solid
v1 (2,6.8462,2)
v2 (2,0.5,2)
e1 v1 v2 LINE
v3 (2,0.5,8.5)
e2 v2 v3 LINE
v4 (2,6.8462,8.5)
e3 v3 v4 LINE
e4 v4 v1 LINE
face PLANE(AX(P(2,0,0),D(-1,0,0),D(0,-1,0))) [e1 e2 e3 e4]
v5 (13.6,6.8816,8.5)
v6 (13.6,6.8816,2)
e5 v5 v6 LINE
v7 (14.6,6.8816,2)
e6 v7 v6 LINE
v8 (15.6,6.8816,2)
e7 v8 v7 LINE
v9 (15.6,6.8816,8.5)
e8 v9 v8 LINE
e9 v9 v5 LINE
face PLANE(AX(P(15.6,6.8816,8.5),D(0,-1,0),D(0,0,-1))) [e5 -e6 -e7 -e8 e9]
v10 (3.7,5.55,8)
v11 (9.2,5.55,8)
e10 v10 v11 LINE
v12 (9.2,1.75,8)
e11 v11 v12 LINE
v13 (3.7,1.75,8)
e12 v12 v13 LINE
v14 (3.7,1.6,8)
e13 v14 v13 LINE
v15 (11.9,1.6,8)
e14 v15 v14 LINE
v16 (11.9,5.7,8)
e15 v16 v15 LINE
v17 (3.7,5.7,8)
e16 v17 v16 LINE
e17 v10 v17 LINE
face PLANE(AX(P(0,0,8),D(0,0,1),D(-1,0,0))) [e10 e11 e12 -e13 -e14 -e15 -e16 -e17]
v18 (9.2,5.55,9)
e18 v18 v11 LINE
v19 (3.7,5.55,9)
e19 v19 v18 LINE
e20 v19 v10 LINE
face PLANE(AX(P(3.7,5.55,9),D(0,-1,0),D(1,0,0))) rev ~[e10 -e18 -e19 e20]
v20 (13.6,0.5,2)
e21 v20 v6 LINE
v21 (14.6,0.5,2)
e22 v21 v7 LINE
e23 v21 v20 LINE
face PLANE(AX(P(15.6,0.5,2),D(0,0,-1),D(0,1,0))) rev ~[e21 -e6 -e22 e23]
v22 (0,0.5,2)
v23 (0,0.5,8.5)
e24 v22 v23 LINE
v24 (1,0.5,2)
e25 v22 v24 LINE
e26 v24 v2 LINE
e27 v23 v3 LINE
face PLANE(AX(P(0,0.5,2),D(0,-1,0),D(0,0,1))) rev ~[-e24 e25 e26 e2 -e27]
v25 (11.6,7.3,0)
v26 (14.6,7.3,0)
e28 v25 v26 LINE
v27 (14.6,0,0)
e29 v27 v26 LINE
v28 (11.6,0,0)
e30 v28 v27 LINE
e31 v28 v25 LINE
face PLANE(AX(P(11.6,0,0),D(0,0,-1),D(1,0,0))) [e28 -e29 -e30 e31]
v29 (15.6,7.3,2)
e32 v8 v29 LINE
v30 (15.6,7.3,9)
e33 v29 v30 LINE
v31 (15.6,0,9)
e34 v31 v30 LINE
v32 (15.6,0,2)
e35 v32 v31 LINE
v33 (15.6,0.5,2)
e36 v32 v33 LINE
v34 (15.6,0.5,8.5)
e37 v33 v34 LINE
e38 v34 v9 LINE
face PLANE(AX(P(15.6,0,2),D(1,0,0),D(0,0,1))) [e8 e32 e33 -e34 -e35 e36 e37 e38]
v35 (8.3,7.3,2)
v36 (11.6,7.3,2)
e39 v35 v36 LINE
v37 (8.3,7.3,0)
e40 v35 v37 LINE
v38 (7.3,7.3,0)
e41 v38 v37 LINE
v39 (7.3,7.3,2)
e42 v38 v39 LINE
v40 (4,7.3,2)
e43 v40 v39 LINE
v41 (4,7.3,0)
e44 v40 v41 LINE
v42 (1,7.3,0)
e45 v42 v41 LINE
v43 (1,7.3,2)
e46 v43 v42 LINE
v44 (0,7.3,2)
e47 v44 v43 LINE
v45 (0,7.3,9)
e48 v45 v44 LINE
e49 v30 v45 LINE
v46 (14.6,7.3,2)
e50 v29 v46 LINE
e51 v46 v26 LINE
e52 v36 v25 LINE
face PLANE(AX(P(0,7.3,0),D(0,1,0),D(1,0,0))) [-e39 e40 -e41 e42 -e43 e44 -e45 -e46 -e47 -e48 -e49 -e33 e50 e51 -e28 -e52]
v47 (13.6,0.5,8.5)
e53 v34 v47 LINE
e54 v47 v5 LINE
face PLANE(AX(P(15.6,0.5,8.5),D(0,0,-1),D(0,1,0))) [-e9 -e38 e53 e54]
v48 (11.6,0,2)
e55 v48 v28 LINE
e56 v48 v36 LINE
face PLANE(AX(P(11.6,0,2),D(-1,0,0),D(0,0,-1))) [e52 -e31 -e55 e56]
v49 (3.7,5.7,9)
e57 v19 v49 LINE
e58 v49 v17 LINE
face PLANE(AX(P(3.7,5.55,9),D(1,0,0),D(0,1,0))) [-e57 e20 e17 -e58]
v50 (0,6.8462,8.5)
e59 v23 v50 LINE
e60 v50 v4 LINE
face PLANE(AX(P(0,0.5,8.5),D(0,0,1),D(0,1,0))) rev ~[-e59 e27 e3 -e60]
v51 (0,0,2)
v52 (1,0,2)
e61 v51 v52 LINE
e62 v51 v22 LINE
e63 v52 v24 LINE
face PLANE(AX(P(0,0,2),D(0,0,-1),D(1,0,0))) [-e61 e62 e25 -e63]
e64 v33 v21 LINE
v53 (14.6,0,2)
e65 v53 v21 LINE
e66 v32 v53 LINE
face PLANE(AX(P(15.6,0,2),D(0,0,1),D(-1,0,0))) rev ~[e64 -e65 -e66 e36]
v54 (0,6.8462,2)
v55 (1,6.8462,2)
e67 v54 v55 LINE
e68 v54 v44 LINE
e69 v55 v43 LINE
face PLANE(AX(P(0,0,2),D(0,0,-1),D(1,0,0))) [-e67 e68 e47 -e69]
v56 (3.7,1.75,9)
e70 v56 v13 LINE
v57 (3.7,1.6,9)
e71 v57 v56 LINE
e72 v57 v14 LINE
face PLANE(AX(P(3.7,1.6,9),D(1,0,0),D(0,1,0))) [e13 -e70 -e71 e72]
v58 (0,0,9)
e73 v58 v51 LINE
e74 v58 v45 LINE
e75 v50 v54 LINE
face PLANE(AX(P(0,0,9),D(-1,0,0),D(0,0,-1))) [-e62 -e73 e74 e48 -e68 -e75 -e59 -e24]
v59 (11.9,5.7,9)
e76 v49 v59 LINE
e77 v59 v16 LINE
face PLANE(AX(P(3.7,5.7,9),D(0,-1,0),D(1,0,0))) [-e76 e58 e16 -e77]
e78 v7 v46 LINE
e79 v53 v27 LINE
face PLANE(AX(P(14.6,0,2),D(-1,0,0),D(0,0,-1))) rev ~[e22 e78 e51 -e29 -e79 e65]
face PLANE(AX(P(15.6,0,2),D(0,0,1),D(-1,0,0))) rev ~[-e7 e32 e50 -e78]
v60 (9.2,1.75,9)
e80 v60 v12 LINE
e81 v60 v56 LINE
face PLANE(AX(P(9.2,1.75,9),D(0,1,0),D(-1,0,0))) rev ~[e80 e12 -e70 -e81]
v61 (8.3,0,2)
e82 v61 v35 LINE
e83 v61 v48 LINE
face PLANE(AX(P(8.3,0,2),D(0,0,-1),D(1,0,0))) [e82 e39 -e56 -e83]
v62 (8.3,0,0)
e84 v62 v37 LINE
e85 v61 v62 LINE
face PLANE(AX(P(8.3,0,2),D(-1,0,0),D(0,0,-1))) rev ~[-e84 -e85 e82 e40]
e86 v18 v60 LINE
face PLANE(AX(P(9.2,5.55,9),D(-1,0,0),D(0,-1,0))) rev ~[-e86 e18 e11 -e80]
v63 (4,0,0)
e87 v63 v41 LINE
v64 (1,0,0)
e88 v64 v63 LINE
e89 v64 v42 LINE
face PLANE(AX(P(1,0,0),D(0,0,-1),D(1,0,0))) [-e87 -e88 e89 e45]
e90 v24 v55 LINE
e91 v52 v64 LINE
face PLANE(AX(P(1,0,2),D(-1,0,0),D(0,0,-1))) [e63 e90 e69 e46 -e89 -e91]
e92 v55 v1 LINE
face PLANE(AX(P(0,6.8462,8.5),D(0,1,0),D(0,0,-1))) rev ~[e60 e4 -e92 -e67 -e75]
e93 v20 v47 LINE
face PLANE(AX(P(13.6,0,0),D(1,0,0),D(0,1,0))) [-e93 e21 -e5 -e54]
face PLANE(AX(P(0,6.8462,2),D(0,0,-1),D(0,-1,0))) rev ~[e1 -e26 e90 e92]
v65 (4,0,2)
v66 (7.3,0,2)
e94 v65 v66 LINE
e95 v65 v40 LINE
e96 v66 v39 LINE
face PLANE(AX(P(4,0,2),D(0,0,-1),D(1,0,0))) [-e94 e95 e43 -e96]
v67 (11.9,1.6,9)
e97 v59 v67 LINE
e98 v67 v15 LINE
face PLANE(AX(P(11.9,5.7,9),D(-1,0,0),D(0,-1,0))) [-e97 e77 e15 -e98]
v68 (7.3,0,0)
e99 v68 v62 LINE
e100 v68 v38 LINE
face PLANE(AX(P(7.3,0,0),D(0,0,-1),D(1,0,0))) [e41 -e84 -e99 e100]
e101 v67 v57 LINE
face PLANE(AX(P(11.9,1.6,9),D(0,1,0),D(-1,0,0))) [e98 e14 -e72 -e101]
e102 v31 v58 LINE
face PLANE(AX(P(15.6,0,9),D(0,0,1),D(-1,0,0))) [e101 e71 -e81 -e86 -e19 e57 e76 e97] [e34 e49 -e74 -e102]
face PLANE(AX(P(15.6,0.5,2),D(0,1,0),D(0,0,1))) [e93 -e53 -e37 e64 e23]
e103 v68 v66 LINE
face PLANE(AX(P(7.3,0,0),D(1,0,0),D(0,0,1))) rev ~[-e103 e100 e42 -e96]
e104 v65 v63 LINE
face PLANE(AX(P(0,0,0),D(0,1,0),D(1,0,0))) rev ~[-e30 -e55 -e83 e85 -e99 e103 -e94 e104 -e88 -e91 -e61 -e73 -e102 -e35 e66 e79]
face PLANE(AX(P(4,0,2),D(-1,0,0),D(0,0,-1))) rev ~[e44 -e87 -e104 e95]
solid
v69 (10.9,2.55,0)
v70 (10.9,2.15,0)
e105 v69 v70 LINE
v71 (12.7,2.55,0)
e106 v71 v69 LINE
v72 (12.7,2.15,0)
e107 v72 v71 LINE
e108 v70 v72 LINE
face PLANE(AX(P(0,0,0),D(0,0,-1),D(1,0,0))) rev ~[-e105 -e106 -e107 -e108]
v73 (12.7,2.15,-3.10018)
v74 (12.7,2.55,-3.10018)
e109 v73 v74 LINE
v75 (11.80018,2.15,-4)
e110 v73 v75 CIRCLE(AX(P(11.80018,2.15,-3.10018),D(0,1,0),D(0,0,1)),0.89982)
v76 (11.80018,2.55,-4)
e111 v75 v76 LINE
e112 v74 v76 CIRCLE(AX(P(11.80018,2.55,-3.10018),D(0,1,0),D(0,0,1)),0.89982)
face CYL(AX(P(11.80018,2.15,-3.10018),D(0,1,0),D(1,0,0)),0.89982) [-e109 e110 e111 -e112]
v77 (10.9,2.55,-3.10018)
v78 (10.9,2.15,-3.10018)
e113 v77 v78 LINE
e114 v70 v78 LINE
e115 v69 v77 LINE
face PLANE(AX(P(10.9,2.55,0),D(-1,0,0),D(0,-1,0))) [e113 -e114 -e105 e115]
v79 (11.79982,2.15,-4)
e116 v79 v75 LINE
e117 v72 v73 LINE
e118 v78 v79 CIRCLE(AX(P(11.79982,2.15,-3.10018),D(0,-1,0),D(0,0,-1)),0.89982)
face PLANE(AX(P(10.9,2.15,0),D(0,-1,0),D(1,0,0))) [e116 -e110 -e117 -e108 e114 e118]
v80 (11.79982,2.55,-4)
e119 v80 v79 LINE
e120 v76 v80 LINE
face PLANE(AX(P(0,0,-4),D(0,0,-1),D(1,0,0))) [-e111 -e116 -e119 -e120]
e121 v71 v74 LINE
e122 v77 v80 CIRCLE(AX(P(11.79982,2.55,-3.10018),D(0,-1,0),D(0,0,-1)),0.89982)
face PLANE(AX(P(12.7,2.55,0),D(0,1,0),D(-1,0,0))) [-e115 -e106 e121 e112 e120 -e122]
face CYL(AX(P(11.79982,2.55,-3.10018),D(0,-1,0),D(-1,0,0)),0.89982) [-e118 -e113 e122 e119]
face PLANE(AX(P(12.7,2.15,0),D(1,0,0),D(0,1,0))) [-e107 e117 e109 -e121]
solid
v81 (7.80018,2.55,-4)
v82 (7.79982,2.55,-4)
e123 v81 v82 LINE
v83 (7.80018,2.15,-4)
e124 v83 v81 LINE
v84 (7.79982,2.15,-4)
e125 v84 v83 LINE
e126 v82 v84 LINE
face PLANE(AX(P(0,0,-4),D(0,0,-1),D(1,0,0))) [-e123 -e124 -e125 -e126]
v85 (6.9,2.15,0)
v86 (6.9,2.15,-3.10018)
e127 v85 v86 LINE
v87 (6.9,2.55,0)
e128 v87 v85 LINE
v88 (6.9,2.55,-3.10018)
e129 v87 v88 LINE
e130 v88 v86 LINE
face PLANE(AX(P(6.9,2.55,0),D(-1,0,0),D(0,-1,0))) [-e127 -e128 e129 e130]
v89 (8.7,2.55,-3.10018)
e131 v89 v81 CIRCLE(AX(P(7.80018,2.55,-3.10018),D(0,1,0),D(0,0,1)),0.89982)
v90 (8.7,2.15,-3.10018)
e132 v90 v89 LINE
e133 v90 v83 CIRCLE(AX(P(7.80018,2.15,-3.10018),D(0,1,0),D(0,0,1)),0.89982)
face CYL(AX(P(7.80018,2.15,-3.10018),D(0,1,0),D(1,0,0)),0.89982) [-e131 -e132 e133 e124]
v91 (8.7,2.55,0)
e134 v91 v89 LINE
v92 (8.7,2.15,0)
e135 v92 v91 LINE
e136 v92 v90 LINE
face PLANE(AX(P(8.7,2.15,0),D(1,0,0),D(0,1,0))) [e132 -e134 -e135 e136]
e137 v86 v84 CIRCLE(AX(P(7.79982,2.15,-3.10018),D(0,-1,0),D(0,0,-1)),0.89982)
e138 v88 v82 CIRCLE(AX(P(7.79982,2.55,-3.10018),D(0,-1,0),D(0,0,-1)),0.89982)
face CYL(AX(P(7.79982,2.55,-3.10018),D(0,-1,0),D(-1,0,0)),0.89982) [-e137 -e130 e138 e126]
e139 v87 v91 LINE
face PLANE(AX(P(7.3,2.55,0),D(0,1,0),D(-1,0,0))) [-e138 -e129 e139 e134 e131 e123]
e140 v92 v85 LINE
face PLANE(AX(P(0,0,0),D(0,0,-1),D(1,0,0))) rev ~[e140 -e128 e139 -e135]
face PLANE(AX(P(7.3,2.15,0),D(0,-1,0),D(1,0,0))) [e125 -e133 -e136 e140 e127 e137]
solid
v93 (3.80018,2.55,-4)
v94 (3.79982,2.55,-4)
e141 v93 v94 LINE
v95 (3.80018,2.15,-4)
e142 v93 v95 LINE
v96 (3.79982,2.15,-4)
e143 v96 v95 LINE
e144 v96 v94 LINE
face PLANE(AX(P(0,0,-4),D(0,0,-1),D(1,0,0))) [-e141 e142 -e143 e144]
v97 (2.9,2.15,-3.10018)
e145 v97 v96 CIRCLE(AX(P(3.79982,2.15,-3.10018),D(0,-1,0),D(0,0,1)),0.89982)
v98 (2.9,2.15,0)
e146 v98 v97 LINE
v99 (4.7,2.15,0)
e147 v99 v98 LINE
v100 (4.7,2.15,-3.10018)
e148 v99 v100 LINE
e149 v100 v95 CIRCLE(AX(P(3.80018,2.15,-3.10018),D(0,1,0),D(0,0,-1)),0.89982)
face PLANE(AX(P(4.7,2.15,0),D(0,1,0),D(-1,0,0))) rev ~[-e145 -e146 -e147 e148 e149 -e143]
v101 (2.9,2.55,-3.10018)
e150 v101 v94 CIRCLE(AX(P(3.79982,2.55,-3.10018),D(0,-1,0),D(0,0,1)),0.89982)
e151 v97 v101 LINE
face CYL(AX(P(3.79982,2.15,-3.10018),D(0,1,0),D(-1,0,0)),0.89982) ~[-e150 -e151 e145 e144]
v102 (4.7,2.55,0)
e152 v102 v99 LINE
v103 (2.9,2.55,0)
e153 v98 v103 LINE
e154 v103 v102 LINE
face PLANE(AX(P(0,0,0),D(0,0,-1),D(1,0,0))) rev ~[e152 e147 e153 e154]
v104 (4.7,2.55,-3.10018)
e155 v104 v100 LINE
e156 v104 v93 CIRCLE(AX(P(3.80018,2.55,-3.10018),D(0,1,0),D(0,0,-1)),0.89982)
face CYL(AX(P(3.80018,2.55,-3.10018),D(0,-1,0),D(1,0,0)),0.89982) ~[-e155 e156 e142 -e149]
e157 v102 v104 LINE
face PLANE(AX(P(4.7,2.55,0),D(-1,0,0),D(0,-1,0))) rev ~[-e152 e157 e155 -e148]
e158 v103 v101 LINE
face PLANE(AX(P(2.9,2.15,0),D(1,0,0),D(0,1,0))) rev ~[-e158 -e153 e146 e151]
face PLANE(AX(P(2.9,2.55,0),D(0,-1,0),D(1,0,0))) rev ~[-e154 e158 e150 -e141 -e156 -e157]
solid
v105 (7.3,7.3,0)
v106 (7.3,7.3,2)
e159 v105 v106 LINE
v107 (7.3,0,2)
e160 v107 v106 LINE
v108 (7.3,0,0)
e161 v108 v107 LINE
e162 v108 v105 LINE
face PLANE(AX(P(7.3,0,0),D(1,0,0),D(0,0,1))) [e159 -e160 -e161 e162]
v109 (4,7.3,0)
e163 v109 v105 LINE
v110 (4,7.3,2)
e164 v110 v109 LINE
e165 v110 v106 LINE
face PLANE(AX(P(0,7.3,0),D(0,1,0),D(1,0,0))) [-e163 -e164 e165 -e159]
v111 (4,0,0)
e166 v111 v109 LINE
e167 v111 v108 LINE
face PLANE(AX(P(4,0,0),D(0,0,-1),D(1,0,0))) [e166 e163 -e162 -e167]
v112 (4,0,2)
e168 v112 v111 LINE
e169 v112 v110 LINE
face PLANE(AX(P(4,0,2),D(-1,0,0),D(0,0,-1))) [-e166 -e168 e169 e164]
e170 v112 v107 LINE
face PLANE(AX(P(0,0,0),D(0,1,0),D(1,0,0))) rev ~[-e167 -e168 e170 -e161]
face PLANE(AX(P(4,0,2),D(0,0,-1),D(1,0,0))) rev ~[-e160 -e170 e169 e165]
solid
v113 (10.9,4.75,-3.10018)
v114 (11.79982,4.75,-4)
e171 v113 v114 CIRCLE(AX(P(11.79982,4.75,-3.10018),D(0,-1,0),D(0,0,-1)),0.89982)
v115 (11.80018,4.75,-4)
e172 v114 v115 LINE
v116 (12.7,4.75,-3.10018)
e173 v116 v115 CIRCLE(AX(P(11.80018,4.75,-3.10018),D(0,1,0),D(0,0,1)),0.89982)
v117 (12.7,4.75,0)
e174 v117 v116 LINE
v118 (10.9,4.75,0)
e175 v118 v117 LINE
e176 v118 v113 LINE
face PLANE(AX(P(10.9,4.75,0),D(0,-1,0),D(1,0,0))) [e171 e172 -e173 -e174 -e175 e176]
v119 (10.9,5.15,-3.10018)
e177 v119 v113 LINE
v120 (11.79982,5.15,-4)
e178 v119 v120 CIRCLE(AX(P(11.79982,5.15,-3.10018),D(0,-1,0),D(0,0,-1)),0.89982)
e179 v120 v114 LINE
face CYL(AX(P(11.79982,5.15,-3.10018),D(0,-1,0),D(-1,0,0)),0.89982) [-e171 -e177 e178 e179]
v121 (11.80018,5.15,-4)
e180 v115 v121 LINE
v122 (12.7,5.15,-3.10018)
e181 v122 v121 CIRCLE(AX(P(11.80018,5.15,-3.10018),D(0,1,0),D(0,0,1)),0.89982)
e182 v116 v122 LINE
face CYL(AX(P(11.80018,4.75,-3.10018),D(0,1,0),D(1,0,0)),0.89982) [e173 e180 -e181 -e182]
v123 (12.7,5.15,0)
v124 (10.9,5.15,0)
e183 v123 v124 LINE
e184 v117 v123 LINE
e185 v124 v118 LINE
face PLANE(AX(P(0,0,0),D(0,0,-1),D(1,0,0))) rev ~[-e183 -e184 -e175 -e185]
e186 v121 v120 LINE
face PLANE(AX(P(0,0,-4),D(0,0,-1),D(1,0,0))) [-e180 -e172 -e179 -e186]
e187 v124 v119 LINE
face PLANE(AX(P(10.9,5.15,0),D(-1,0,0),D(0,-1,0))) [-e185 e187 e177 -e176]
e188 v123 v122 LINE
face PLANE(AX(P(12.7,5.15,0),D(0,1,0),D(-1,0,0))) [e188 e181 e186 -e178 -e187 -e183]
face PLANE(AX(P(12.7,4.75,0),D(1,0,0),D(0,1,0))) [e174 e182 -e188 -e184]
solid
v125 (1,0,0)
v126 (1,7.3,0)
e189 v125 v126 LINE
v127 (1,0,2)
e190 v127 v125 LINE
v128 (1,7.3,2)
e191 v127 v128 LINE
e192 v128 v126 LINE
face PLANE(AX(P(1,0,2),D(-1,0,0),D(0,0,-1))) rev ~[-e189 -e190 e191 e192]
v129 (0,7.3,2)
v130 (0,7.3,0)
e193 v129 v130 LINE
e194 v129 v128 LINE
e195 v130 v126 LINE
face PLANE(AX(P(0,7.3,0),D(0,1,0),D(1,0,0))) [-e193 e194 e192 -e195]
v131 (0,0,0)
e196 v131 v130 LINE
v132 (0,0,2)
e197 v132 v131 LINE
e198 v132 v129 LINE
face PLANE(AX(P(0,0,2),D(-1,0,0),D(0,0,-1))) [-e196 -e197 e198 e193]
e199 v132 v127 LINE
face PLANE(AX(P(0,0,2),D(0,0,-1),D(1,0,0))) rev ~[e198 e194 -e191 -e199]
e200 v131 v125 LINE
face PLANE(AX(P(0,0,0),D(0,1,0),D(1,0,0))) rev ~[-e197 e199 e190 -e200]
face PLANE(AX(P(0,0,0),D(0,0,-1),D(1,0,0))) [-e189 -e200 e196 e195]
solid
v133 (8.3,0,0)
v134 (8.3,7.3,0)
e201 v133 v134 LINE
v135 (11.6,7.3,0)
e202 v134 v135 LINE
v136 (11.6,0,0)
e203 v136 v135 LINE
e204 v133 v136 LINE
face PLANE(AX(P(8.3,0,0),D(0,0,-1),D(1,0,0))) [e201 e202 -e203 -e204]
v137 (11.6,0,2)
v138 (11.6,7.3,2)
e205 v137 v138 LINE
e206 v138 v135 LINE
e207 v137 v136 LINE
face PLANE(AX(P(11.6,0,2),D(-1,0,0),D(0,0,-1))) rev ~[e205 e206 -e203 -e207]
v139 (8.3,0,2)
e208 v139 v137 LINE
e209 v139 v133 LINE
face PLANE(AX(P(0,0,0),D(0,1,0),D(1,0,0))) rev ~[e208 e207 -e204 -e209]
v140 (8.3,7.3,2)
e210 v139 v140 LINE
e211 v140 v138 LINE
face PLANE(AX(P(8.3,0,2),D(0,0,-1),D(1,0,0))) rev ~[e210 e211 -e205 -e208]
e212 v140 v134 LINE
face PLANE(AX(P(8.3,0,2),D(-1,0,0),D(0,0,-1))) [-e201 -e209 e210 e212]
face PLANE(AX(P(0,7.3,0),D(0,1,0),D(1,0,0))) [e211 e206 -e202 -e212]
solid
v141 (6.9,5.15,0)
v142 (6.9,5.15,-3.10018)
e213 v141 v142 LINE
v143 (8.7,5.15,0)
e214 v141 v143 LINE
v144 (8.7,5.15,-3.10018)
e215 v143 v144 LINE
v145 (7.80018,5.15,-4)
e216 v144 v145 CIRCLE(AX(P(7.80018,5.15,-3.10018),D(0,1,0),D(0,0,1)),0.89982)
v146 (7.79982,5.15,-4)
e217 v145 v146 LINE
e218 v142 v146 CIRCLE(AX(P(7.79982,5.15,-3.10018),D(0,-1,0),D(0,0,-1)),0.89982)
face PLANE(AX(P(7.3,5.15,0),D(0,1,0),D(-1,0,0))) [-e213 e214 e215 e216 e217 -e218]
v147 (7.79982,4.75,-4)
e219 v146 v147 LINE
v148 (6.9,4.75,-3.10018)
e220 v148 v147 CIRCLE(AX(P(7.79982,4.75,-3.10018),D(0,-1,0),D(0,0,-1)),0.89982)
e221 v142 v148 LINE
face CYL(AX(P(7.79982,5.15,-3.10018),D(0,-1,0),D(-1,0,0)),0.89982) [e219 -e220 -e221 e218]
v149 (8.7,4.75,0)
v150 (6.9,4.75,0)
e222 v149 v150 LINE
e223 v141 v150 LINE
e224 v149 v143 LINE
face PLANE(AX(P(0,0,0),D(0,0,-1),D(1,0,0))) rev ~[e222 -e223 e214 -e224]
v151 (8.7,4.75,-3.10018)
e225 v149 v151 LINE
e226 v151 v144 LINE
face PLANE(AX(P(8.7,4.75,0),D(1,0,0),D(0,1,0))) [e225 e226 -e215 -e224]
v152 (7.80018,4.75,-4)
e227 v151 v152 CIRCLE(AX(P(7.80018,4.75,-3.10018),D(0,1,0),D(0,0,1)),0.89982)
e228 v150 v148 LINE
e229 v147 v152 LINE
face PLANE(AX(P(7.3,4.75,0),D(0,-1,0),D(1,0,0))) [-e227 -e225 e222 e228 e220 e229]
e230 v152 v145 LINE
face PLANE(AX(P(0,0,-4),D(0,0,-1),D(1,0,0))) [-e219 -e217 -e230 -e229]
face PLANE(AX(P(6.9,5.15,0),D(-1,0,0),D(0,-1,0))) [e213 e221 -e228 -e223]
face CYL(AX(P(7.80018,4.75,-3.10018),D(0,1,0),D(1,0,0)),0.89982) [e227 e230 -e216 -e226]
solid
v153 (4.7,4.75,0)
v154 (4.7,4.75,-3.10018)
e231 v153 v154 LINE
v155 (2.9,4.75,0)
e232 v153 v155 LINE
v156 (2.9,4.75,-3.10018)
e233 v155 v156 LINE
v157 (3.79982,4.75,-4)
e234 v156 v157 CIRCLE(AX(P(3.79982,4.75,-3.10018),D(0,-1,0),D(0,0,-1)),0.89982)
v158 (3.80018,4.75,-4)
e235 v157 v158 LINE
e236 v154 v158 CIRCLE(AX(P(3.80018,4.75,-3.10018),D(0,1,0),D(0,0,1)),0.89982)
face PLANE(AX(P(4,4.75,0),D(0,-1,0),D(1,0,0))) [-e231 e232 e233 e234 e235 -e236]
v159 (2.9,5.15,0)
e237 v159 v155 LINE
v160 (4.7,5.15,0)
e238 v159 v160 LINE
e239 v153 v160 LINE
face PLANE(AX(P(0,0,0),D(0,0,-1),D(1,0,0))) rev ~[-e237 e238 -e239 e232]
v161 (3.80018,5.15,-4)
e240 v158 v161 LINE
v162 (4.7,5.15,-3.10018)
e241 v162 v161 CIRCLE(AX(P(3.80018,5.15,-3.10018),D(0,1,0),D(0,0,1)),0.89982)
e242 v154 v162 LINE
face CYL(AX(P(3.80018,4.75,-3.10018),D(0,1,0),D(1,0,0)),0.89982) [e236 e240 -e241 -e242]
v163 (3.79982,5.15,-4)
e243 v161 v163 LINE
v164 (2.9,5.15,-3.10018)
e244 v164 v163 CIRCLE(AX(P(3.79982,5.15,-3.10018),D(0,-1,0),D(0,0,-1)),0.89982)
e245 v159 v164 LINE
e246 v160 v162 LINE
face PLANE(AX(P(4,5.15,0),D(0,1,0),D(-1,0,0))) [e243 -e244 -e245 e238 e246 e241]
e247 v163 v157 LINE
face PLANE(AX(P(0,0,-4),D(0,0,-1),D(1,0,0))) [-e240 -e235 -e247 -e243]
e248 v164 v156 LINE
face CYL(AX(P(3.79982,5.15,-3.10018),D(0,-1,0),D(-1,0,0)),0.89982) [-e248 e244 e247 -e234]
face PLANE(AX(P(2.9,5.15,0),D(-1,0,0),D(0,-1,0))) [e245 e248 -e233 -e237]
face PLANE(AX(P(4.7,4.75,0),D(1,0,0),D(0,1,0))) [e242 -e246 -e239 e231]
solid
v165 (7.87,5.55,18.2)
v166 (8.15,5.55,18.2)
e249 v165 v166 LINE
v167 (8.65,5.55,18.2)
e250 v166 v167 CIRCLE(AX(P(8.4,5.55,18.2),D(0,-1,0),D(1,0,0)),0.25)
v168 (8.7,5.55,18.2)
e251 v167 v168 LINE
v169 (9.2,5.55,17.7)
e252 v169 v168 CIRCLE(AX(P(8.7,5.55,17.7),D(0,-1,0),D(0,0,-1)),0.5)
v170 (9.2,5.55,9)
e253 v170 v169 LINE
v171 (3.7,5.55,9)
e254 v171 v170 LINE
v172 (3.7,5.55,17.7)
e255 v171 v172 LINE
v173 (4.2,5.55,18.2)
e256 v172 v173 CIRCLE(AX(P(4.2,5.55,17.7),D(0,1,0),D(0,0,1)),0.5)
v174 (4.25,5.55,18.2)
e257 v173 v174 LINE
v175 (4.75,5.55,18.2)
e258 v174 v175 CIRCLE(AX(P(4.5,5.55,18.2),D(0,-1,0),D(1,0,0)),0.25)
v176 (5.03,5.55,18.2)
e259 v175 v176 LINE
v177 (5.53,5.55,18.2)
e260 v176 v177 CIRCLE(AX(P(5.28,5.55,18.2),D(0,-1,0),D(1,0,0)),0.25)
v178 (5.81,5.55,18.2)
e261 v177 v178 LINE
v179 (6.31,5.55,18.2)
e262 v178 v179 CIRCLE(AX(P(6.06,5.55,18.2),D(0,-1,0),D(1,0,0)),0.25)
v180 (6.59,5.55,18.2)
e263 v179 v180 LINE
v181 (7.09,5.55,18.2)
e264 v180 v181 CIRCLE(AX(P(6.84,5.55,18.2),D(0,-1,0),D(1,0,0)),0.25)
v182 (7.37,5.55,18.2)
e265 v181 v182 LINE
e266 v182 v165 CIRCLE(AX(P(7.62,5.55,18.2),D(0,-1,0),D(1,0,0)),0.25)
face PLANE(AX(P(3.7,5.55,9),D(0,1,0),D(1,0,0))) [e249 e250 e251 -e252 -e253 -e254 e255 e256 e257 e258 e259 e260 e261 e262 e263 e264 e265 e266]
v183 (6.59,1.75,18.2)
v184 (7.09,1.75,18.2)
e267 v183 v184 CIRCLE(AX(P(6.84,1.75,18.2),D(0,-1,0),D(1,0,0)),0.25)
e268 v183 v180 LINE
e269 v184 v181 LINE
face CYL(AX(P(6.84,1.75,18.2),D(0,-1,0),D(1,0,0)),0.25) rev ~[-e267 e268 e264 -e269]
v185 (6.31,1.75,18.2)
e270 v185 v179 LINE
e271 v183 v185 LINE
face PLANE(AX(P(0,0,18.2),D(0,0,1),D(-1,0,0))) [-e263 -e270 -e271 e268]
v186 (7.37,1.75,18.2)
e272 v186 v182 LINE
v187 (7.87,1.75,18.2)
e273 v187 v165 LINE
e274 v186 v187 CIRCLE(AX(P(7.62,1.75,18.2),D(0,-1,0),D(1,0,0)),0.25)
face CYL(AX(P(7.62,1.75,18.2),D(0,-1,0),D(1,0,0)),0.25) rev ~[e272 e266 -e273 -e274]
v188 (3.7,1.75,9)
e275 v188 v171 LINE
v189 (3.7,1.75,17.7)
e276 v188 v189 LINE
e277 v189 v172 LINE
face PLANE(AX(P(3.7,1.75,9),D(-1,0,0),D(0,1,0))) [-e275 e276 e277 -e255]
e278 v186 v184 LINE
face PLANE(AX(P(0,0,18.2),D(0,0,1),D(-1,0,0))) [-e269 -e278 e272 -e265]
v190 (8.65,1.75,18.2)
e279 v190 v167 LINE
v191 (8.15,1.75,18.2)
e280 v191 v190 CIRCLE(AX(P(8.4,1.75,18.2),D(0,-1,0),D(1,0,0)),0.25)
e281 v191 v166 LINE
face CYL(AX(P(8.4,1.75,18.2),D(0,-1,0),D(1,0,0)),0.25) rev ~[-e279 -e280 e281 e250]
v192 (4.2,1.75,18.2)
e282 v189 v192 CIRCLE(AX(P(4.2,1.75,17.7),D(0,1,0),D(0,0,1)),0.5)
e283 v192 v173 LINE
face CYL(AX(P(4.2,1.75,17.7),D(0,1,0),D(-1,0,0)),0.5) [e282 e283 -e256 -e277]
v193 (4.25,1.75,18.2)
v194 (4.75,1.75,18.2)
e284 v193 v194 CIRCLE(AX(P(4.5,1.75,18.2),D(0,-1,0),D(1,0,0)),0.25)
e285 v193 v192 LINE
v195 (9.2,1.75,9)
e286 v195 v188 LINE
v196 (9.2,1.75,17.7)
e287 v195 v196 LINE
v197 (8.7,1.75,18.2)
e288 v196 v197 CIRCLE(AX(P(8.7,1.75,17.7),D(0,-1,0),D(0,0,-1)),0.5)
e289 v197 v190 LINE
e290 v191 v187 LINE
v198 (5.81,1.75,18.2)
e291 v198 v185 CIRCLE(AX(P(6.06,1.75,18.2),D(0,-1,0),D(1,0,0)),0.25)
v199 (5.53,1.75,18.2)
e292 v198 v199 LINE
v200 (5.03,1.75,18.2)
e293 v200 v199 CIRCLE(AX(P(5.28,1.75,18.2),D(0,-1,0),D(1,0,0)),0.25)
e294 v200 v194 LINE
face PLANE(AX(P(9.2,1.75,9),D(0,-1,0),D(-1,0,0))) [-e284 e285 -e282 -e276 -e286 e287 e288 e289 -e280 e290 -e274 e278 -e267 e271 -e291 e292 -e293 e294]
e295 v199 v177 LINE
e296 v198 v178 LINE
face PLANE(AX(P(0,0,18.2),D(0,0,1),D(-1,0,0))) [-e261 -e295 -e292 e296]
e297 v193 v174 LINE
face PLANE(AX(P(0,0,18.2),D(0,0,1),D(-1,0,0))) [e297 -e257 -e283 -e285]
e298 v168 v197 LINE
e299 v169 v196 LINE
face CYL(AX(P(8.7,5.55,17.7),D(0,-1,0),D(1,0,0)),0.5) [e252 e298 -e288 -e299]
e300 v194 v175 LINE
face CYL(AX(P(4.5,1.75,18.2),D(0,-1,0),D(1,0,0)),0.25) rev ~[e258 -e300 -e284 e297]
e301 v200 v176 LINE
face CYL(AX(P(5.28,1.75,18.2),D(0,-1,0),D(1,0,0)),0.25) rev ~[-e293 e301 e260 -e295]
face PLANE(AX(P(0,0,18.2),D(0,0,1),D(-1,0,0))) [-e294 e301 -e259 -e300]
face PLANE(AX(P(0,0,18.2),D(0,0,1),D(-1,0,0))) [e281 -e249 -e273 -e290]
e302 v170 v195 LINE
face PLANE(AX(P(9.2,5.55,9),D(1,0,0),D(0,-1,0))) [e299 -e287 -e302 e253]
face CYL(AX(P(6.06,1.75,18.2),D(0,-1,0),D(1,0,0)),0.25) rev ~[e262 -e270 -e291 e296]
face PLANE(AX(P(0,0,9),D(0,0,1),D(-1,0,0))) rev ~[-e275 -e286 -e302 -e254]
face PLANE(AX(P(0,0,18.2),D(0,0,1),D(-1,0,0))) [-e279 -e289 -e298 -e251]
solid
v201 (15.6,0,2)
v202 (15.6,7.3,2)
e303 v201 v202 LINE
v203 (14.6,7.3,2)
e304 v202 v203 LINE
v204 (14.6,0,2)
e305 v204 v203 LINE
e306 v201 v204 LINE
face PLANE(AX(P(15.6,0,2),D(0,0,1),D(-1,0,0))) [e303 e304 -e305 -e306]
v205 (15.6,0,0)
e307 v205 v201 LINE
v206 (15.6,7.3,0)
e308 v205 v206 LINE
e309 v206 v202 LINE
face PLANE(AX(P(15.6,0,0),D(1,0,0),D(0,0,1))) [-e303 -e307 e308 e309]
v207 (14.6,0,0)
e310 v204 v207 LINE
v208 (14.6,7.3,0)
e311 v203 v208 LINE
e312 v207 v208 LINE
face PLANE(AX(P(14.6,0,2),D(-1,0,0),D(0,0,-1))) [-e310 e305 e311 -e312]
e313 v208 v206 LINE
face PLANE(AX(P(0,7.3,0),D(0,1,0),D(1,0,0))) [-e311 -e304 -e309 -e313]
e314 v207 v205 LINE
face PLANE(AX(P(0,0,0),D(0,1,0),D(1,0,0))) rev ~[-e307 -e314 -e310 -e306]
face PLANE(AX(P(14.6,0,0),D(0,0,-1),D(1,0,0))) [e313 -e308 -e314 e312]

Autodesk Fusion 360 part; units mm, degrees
sketch "Sketch1" plane through (0, 0, 0) normal (0, 1, 0) x (1, 0, 0)
  line L0 (0, 0) -> (15.6, 0)
  line L1 (15.6, 0) -> (15.6, -2)
  line L2 (0, -2) -> (0, 0)
  line L3 (15.6, -2) -> (15.6, -9)
  line L4 (15.6, -9) -> (0, -9)
  line L5 (0, -9) -> (0, -2)
  line L6 (0, -2) -> (1, -2)
  line L7 (1, -2) -> (1, 0)
  line L8 (1, 0) -> (0, 0)
  line L9 (0, 0) -> (0, -2)
  line L10 (15.6, -2) -> (14.6, -2)
  line L11 (14.6, -2) -> (14.6, 0)
  line L12 (14.6, 0) -> (15.6, 0)
  line L13 (15.6, 0) -> (15.6, -2)
  line L14 (11.6, -2) -> (11.6, 0)
  line L15 (11.6, 0) -> (14.6, 0)
  line L16 (14.6, 0) -> (14.6, -2)
  line L17 (4, -2) -> (4, 0)
  line L18 (4, 0) -> (1, 0)
  line L19 (1, 0) -> (1, -2)
  line L20 (7.8, -14) -> (7.8, 4) construction
  line L21 (1, -2) -> (0, -2)
  line L22 (0, -2) -> (1, -2)
  line L23 (15.6, -2) -> (14.6, -2)
  line L24 (14.6, -2) -> (15.6, -2)
  line L25 (8.3, -2) -> (8.3, 0)
  line L26 (8.3, 0) -> (7.3, 0)
  line L27 (7.3, 0) -> (7.3, -2)
  line L28 (4, -2) -> (7.3, -2)
  line L29 (8.3, -2) -> (11.6, -2)
  line L30 (11.6, -2) -> (8.3, -2)
  line L31 (7.3, -2) -> (4, -2)
  dimension "d2" = 2
  dimension "d3" = 15.6
  dimension "d4" = 7
  dimension "d5" = 1
  dimension "d6" = 1
  dimension "d7" = 2
  dimension "d8" = 3
  dimension "d9" = 2
  dimension "d10" = 3
  dimension "d11" = 2
  dimension "d12" = 7.8
  dimension "d13" = 1
  dimension "d14" = 2
extrude "Extrude1" add sketch "Sketch1" along normal blind 7.3 contours L0 L3 L4 L5 L6 L7 L10 L11 L14 L15 L16 L17 L18 L19 L21 L22 L23 L24 L25 L26 L27 L28 L29 L30 L31 makes body 1
extrude "Extrude2" add sketch "Sketch1" along normal blind 7.3 separate body contours L0 L2 L6 L7 L8 L9 L19 L21 L22 | L0 L17 L27 L28 L31 | L0 L14 L25 L29 L30 | L0 L1 L10 L11 L12 L13 L16 L23 L24 makes body 2 at (5.1, 2.4333, 0) makes body 3 at (9.4, 2.4333, 0) makes body 4 at (1, 2.4333, 1.3333) makes body 5 at (14.6, 2.4333, 1.3333)
sketch "Sketch2" plane through (0, 0, 9) normal (0, 0, 1) x (-1, 0, 0)
  line L0 (0, 0) -> (-15.6, 0)
  line L1 (-15.6, 0) -> (-15.6, -7.3)
  line L2 (-15.6, -7.3) -> (0, -7.3)
  line L3 (0, -7.3) -> (0, 0)
  line L4 (0, 0) -> (-15.6, -7.3) construction
  line L5 (-15.6, 0) -> (0, -7.3) construction
  line L6 (-11.9, -1.6) -> (-3.7, -1.6)
  line L7 (-3.7, -1.6) -> (-3.7, -5.7)
  line L8 (-3.7, -5.7) -> (-11.9, -5.7)
  line L9 (-11.9, -5.7) -> (-11.9, -1.6)
  line L10 (-11.9, -1.6) -> (-3.7, -5.7) construction
  line L11 (-3.7, -1.6) -> (-11.9, -5.7) construction
  line L12 (-3.7, -5.55) -> (-9.2, -5.55)
  line L13 (-9.2, -5.55) -> (-9.2, -1.75)
  line L14 (-9.2, -1.75) -> (-3.7, -1.75)
  line L15 (-3.7, -1.75) -> (-3.7, -5.55)
  line L16 (1.4148, -3.65) -> (-17, -3.65) construction
  line L17 (1.4148, -1.75) -> (-17, -1.75) construction
  line L18 (-3.7, -1.75) -> (-3.77, -1.75) construction
  point P0 (-7.8, -3.65)
  dimension "d19" = 8.2
  dimension "d20" = 4.1
  dimension "d21" = 5.5
  dimension "d22" = 3.8
  dimension "d23" = 1.9
extrude "Extrude3" add sketch "Sketch2" along normal blind 9.2 separate body contours L7 L12 L13 L14 L15 makes body 6
extrude "Extrude4" cut sketch "Sketch2" against normal blind 1 contours L6 L7 L8 L9 L12 L13 L14 bodies 1
fillet "Fillet1" radius 0.5 2 edges at (9.2, 3.65, 18.2) (3.7, 3.65, 18.2) on bodies 6
sketch "Sketch3" plane through (0, 1.75, 0) normal (0, -1, 0) x (1, 0, 0)
  arc A0 (4.2, 18.2) -> (3.7, 17.7) centre (4.2, 17.7) ccw
  line L0 (3.7, 17.7) -> (3.7, 9)
  line L1 (3.7, 9) -> (9.2, 9)
  line L2 (9.2, 9) -> (9.2, 17.7)
  arc A1 (9.2, 17.7) -> (8.7, 18.2) centre (8.7, 17.7) ccw
  line L3 (8.7, 18.2) -> (4.2, 18.2)
  circle A2 centre (4.5, 18.2) radius 0.25
  circle A3 centre (5.28, 18.2) radius 0.25
  circle A4 centre (6.06, 18.2) radius 0.25
  circle A5 centre (6.84, 18.2) radius 0.25
  circle A6 centre (7.62, 18.2) radius 0.25
  circle A7 centre (8.4, 18.2) radius 0.25
  dimension "d30" = 0.5
  dimension "d43" = 3.9
  dimension "d44" = 0
extrude "Extrude6" cut sketch "Sketch3" against normal blind 5 contours L3 A2 | L3 A3 | L3 A4 | L3 A7 | L3 A5 | L3 A6 picked at (4.5053, 18.1045) picked at (5.2853, 18.1045) picked at (6.0653, 18.1045) picked at (8.4053, 18.1045) picked at (6.8453, 18.1045) picked at (7.6253, 18.1045) bodies 6
sketch "Sketch4" plane through (15.6, 0, 0) normal (1, 0, 0) x (0, 1, 0)
  line L0 (0, 9) -> (0, 2)
  line L1 (0, 2) -> (7.3, 2)
  line L2 (7.3, 2) -> (7.3, 9)
  line L3 (7.3, 9) -> (0, 9)
  line L4 (0.5, 8.5) -> (6.8816, 8.5)
  line L5 (6.8816, 8.5) -> (6.8816, 2)
  line L6 (6.8816, 2) -> (0.5, 2)
  line L7 (0.5, 2) -> (0.5, 8.5)
  dimension "d47" = 6.5
extrude "Extrude7" cut sketch "Sketch4" against normal blind 2 contours L1 L4 L5 L6 L7 bodies 1
sketch "Sketch5" plane through (0, 0, 0) normal (-1, 0, 0) x (0, -1, 0)
  line L0 (0, 2) -> (0, 9)
  line L1 (0, 9) -> (-7.3, 9)
  line L2 (-7.3, 9) -> (-7.3, 2)
  line L3 (-7.3, 2) -> (0, 2)
  line L4 (-0.5, 8.5) -> (-6.8462, 8.5)
  line L5 (-6.8462, 8.5) -> (-6.8462, 2)
  line L6 (-6.8462, 2) -> (-0.5, 2)
  line L7 (-0.5, 2) -> (-0.5, 8.5)
  dimension "d50" = 6.5
extrude "Extrude8" cut sketch "Sketch5" against normal blind 2 contours L3 L4 L5 L6 L7 bodies 1
sketch "Sketch6" plane through (0, 0, 0) normal (0, 0, -1) x (1, 0, 0)
  line L0 (7.3, 0) -> (4, 0)
  line L1 (4, 0) -> (4, -7.3)
  line L2 (4, -7.3) -> (7.3, -7.3)
  line L3 (7.3, -7.3) -> (7.3, 0)
  line L4 (11.8, -2.35) -> (3.8, -2.35) construction
  line L5 (3.8, -2.35) -> (3.8, -4.95) construction
  line L6 (3.8, -4.95) -> (11.8, -4.95) construction
  line L7 (11.8, -4.95) -> (11.8, -2.35) construction
  line L8 (11.8, -2.35) -> (3.8, -4.95) construction
  line L9 (3.8, -2.35) -> (11.8, -4.95) construction
  line L10 (7.8, 2) -> (7.8, -8.6458) construction
  line L11 (4.7, -2.15) -> (2.9, -2.15)
  line L12 (2.9, -2.15) -> (2.9, -2.55)
  line L13 (2.9, -2.55) -> (4.7, -2.55)
  line L14 (4.7, -2.55) -> (4.7, -2.15)
  line L15 (4.7, -2.15) -> (2.9, -2.55) construction
  line L16 (2.9, -2.15) -> (4.7, -2.55) construction
  line L17 (4.7, -5.15) -> (2.9, -5.15)
  line L18 (2.9, -5.15) -> (2.9, -4.75)
  line L19 (2.9, -4.75) -> (4.7, -4.75)
  line L20 (4.7, -4.75) -> (4.7, -5.15)
  line L21 (4.7, -5.15) -> (2.9, -4.75) construction
  line L22 (2.9, -5.15) -> (4.7, -4.75) construction
  line L23 (8.7, -2.55) -> (6.9, -2.55)
  line L24 (6.9, -2.55) -> (6.9, -2.15)
  line L25 (6.9, -2.15) -> (8.7, -2.15)
  line L26 (8.7, -2.15) -> (8.7, -2.55)
  line L27 (8.7, -2.55) -> (6.9, -2.15) construction
  line L28 (6.9, -2.55) -> (8.7, -2.15) construction
  line L29 (8.7, -5.15) -> (6.9, -5.15)
  line L30 (6.9, -5.15) -> (6.9, -4.75)
  line L31 (6.9, -4.75) -> (8.7, -4.75)
  line L32 (8.7, -4.75) -> (8.7, -5.15)
  line L33 (8.7, -5.15) -> (6.9, -4.75) construction
  line L34 (6.9, -5.15) -> (8.7, -4.75) construction
  line L35 (12.7, -2.55) -> (10.9, -2.55)
  line L36 (10.9, -2.55) -> (10.9, -2.15)
  line L37 (10.9, -2.15) -> (12.7, -2.15)
  line L38 (12.7, -2.15) -> (12.7, -2.55)
  line L39 (12.7, -2.55) -> (10.9, -2.15) construction
  line L40 (10.9, -2.55) -> (12.7, -2.15) construction
  line L41 (12.7, -5.15) -> (10.9, -5.15)
  line L42 (10.9, -5.15) -> (10.9, -4.75)
  line L43 (10.9, -4.75) -> (12.7, -4.75)
  line L44 (12.7, -4.75) -> (12.7, -5.15)
  line L45 (12.7, -5.15) -> (10.9, -4.75) construction
  line L46 (10.9, -5.15) -> (12.7, -4.75) construction
  point P0 (7.8, -3.65)
  point P1 (3.8, -2.35)
  point P2 (3.8, -4.95)
  point P3 (7.8, -2.35)
  point P4 (7.8, -4.95)
  point P5 (11.8, -2.35)
  point P6 (11.8, -4.95)
  dimension "d53" = 8
  dimension "d54" = 2.6
  dimension "d55" = 1.8
  dimension "d56" = 0.4
  dimension "d57" = 1.8
  dimension "d58" = 0.4
  dimension "d59" = 1.8
  dimension "d60" = 0.4
  dimension "d61" = 1.8
  dimension "d62" = 0.4
  dimension "d63" = 1.8
  dimension "d64" = 0.4
  dimension "d65" = 1.8
  dimension "d66" = 0.4
extrude "Extrude9" add sketch "Sketch6" along normal blind 4 separate body contours L3 L23 L25 L26 | L3 L23 L24 L25 | L1 L11 L13 L14 | L1 L11 L12 L13 | L3 L29 L31 L32 | L3 L29 L30 L31 | L1 L17 L19 L20 | L1 L17 L18 L19 | L35 L36 L37 L38 | L41 L42 L43 L44 makes body 7 at (7.5, 4.75, -1.3333) makes body 8 at (4.1, 2.15, -1.3333) makes body 9 at (12.1, 2.55, -1.3333) makes body 10 at (7.5, 2.15, -1.3333) makes body 11 at (3.5, 4.75, -1.3333) makes body 12 at (12.1, 5.15, -1.3333)
fillet "Fillet2" radius 0.9 12 edges at (6.9, 4.95, -4) (8.7, 4.95, -4) (2.9, 2.35, -4) (4.7, 2.35, -4) (10.9, 2.35, -4) (12.7, 2.35, -4) (6.9, 2.35, -4) (8.7, 2.35, -4) (2.9, 4.95, -4) (4.7, 4.95, -4) (10.9, 4.95, -4) (12.7, 4.95, -4) on bodies 7 8 9 10 11 12
